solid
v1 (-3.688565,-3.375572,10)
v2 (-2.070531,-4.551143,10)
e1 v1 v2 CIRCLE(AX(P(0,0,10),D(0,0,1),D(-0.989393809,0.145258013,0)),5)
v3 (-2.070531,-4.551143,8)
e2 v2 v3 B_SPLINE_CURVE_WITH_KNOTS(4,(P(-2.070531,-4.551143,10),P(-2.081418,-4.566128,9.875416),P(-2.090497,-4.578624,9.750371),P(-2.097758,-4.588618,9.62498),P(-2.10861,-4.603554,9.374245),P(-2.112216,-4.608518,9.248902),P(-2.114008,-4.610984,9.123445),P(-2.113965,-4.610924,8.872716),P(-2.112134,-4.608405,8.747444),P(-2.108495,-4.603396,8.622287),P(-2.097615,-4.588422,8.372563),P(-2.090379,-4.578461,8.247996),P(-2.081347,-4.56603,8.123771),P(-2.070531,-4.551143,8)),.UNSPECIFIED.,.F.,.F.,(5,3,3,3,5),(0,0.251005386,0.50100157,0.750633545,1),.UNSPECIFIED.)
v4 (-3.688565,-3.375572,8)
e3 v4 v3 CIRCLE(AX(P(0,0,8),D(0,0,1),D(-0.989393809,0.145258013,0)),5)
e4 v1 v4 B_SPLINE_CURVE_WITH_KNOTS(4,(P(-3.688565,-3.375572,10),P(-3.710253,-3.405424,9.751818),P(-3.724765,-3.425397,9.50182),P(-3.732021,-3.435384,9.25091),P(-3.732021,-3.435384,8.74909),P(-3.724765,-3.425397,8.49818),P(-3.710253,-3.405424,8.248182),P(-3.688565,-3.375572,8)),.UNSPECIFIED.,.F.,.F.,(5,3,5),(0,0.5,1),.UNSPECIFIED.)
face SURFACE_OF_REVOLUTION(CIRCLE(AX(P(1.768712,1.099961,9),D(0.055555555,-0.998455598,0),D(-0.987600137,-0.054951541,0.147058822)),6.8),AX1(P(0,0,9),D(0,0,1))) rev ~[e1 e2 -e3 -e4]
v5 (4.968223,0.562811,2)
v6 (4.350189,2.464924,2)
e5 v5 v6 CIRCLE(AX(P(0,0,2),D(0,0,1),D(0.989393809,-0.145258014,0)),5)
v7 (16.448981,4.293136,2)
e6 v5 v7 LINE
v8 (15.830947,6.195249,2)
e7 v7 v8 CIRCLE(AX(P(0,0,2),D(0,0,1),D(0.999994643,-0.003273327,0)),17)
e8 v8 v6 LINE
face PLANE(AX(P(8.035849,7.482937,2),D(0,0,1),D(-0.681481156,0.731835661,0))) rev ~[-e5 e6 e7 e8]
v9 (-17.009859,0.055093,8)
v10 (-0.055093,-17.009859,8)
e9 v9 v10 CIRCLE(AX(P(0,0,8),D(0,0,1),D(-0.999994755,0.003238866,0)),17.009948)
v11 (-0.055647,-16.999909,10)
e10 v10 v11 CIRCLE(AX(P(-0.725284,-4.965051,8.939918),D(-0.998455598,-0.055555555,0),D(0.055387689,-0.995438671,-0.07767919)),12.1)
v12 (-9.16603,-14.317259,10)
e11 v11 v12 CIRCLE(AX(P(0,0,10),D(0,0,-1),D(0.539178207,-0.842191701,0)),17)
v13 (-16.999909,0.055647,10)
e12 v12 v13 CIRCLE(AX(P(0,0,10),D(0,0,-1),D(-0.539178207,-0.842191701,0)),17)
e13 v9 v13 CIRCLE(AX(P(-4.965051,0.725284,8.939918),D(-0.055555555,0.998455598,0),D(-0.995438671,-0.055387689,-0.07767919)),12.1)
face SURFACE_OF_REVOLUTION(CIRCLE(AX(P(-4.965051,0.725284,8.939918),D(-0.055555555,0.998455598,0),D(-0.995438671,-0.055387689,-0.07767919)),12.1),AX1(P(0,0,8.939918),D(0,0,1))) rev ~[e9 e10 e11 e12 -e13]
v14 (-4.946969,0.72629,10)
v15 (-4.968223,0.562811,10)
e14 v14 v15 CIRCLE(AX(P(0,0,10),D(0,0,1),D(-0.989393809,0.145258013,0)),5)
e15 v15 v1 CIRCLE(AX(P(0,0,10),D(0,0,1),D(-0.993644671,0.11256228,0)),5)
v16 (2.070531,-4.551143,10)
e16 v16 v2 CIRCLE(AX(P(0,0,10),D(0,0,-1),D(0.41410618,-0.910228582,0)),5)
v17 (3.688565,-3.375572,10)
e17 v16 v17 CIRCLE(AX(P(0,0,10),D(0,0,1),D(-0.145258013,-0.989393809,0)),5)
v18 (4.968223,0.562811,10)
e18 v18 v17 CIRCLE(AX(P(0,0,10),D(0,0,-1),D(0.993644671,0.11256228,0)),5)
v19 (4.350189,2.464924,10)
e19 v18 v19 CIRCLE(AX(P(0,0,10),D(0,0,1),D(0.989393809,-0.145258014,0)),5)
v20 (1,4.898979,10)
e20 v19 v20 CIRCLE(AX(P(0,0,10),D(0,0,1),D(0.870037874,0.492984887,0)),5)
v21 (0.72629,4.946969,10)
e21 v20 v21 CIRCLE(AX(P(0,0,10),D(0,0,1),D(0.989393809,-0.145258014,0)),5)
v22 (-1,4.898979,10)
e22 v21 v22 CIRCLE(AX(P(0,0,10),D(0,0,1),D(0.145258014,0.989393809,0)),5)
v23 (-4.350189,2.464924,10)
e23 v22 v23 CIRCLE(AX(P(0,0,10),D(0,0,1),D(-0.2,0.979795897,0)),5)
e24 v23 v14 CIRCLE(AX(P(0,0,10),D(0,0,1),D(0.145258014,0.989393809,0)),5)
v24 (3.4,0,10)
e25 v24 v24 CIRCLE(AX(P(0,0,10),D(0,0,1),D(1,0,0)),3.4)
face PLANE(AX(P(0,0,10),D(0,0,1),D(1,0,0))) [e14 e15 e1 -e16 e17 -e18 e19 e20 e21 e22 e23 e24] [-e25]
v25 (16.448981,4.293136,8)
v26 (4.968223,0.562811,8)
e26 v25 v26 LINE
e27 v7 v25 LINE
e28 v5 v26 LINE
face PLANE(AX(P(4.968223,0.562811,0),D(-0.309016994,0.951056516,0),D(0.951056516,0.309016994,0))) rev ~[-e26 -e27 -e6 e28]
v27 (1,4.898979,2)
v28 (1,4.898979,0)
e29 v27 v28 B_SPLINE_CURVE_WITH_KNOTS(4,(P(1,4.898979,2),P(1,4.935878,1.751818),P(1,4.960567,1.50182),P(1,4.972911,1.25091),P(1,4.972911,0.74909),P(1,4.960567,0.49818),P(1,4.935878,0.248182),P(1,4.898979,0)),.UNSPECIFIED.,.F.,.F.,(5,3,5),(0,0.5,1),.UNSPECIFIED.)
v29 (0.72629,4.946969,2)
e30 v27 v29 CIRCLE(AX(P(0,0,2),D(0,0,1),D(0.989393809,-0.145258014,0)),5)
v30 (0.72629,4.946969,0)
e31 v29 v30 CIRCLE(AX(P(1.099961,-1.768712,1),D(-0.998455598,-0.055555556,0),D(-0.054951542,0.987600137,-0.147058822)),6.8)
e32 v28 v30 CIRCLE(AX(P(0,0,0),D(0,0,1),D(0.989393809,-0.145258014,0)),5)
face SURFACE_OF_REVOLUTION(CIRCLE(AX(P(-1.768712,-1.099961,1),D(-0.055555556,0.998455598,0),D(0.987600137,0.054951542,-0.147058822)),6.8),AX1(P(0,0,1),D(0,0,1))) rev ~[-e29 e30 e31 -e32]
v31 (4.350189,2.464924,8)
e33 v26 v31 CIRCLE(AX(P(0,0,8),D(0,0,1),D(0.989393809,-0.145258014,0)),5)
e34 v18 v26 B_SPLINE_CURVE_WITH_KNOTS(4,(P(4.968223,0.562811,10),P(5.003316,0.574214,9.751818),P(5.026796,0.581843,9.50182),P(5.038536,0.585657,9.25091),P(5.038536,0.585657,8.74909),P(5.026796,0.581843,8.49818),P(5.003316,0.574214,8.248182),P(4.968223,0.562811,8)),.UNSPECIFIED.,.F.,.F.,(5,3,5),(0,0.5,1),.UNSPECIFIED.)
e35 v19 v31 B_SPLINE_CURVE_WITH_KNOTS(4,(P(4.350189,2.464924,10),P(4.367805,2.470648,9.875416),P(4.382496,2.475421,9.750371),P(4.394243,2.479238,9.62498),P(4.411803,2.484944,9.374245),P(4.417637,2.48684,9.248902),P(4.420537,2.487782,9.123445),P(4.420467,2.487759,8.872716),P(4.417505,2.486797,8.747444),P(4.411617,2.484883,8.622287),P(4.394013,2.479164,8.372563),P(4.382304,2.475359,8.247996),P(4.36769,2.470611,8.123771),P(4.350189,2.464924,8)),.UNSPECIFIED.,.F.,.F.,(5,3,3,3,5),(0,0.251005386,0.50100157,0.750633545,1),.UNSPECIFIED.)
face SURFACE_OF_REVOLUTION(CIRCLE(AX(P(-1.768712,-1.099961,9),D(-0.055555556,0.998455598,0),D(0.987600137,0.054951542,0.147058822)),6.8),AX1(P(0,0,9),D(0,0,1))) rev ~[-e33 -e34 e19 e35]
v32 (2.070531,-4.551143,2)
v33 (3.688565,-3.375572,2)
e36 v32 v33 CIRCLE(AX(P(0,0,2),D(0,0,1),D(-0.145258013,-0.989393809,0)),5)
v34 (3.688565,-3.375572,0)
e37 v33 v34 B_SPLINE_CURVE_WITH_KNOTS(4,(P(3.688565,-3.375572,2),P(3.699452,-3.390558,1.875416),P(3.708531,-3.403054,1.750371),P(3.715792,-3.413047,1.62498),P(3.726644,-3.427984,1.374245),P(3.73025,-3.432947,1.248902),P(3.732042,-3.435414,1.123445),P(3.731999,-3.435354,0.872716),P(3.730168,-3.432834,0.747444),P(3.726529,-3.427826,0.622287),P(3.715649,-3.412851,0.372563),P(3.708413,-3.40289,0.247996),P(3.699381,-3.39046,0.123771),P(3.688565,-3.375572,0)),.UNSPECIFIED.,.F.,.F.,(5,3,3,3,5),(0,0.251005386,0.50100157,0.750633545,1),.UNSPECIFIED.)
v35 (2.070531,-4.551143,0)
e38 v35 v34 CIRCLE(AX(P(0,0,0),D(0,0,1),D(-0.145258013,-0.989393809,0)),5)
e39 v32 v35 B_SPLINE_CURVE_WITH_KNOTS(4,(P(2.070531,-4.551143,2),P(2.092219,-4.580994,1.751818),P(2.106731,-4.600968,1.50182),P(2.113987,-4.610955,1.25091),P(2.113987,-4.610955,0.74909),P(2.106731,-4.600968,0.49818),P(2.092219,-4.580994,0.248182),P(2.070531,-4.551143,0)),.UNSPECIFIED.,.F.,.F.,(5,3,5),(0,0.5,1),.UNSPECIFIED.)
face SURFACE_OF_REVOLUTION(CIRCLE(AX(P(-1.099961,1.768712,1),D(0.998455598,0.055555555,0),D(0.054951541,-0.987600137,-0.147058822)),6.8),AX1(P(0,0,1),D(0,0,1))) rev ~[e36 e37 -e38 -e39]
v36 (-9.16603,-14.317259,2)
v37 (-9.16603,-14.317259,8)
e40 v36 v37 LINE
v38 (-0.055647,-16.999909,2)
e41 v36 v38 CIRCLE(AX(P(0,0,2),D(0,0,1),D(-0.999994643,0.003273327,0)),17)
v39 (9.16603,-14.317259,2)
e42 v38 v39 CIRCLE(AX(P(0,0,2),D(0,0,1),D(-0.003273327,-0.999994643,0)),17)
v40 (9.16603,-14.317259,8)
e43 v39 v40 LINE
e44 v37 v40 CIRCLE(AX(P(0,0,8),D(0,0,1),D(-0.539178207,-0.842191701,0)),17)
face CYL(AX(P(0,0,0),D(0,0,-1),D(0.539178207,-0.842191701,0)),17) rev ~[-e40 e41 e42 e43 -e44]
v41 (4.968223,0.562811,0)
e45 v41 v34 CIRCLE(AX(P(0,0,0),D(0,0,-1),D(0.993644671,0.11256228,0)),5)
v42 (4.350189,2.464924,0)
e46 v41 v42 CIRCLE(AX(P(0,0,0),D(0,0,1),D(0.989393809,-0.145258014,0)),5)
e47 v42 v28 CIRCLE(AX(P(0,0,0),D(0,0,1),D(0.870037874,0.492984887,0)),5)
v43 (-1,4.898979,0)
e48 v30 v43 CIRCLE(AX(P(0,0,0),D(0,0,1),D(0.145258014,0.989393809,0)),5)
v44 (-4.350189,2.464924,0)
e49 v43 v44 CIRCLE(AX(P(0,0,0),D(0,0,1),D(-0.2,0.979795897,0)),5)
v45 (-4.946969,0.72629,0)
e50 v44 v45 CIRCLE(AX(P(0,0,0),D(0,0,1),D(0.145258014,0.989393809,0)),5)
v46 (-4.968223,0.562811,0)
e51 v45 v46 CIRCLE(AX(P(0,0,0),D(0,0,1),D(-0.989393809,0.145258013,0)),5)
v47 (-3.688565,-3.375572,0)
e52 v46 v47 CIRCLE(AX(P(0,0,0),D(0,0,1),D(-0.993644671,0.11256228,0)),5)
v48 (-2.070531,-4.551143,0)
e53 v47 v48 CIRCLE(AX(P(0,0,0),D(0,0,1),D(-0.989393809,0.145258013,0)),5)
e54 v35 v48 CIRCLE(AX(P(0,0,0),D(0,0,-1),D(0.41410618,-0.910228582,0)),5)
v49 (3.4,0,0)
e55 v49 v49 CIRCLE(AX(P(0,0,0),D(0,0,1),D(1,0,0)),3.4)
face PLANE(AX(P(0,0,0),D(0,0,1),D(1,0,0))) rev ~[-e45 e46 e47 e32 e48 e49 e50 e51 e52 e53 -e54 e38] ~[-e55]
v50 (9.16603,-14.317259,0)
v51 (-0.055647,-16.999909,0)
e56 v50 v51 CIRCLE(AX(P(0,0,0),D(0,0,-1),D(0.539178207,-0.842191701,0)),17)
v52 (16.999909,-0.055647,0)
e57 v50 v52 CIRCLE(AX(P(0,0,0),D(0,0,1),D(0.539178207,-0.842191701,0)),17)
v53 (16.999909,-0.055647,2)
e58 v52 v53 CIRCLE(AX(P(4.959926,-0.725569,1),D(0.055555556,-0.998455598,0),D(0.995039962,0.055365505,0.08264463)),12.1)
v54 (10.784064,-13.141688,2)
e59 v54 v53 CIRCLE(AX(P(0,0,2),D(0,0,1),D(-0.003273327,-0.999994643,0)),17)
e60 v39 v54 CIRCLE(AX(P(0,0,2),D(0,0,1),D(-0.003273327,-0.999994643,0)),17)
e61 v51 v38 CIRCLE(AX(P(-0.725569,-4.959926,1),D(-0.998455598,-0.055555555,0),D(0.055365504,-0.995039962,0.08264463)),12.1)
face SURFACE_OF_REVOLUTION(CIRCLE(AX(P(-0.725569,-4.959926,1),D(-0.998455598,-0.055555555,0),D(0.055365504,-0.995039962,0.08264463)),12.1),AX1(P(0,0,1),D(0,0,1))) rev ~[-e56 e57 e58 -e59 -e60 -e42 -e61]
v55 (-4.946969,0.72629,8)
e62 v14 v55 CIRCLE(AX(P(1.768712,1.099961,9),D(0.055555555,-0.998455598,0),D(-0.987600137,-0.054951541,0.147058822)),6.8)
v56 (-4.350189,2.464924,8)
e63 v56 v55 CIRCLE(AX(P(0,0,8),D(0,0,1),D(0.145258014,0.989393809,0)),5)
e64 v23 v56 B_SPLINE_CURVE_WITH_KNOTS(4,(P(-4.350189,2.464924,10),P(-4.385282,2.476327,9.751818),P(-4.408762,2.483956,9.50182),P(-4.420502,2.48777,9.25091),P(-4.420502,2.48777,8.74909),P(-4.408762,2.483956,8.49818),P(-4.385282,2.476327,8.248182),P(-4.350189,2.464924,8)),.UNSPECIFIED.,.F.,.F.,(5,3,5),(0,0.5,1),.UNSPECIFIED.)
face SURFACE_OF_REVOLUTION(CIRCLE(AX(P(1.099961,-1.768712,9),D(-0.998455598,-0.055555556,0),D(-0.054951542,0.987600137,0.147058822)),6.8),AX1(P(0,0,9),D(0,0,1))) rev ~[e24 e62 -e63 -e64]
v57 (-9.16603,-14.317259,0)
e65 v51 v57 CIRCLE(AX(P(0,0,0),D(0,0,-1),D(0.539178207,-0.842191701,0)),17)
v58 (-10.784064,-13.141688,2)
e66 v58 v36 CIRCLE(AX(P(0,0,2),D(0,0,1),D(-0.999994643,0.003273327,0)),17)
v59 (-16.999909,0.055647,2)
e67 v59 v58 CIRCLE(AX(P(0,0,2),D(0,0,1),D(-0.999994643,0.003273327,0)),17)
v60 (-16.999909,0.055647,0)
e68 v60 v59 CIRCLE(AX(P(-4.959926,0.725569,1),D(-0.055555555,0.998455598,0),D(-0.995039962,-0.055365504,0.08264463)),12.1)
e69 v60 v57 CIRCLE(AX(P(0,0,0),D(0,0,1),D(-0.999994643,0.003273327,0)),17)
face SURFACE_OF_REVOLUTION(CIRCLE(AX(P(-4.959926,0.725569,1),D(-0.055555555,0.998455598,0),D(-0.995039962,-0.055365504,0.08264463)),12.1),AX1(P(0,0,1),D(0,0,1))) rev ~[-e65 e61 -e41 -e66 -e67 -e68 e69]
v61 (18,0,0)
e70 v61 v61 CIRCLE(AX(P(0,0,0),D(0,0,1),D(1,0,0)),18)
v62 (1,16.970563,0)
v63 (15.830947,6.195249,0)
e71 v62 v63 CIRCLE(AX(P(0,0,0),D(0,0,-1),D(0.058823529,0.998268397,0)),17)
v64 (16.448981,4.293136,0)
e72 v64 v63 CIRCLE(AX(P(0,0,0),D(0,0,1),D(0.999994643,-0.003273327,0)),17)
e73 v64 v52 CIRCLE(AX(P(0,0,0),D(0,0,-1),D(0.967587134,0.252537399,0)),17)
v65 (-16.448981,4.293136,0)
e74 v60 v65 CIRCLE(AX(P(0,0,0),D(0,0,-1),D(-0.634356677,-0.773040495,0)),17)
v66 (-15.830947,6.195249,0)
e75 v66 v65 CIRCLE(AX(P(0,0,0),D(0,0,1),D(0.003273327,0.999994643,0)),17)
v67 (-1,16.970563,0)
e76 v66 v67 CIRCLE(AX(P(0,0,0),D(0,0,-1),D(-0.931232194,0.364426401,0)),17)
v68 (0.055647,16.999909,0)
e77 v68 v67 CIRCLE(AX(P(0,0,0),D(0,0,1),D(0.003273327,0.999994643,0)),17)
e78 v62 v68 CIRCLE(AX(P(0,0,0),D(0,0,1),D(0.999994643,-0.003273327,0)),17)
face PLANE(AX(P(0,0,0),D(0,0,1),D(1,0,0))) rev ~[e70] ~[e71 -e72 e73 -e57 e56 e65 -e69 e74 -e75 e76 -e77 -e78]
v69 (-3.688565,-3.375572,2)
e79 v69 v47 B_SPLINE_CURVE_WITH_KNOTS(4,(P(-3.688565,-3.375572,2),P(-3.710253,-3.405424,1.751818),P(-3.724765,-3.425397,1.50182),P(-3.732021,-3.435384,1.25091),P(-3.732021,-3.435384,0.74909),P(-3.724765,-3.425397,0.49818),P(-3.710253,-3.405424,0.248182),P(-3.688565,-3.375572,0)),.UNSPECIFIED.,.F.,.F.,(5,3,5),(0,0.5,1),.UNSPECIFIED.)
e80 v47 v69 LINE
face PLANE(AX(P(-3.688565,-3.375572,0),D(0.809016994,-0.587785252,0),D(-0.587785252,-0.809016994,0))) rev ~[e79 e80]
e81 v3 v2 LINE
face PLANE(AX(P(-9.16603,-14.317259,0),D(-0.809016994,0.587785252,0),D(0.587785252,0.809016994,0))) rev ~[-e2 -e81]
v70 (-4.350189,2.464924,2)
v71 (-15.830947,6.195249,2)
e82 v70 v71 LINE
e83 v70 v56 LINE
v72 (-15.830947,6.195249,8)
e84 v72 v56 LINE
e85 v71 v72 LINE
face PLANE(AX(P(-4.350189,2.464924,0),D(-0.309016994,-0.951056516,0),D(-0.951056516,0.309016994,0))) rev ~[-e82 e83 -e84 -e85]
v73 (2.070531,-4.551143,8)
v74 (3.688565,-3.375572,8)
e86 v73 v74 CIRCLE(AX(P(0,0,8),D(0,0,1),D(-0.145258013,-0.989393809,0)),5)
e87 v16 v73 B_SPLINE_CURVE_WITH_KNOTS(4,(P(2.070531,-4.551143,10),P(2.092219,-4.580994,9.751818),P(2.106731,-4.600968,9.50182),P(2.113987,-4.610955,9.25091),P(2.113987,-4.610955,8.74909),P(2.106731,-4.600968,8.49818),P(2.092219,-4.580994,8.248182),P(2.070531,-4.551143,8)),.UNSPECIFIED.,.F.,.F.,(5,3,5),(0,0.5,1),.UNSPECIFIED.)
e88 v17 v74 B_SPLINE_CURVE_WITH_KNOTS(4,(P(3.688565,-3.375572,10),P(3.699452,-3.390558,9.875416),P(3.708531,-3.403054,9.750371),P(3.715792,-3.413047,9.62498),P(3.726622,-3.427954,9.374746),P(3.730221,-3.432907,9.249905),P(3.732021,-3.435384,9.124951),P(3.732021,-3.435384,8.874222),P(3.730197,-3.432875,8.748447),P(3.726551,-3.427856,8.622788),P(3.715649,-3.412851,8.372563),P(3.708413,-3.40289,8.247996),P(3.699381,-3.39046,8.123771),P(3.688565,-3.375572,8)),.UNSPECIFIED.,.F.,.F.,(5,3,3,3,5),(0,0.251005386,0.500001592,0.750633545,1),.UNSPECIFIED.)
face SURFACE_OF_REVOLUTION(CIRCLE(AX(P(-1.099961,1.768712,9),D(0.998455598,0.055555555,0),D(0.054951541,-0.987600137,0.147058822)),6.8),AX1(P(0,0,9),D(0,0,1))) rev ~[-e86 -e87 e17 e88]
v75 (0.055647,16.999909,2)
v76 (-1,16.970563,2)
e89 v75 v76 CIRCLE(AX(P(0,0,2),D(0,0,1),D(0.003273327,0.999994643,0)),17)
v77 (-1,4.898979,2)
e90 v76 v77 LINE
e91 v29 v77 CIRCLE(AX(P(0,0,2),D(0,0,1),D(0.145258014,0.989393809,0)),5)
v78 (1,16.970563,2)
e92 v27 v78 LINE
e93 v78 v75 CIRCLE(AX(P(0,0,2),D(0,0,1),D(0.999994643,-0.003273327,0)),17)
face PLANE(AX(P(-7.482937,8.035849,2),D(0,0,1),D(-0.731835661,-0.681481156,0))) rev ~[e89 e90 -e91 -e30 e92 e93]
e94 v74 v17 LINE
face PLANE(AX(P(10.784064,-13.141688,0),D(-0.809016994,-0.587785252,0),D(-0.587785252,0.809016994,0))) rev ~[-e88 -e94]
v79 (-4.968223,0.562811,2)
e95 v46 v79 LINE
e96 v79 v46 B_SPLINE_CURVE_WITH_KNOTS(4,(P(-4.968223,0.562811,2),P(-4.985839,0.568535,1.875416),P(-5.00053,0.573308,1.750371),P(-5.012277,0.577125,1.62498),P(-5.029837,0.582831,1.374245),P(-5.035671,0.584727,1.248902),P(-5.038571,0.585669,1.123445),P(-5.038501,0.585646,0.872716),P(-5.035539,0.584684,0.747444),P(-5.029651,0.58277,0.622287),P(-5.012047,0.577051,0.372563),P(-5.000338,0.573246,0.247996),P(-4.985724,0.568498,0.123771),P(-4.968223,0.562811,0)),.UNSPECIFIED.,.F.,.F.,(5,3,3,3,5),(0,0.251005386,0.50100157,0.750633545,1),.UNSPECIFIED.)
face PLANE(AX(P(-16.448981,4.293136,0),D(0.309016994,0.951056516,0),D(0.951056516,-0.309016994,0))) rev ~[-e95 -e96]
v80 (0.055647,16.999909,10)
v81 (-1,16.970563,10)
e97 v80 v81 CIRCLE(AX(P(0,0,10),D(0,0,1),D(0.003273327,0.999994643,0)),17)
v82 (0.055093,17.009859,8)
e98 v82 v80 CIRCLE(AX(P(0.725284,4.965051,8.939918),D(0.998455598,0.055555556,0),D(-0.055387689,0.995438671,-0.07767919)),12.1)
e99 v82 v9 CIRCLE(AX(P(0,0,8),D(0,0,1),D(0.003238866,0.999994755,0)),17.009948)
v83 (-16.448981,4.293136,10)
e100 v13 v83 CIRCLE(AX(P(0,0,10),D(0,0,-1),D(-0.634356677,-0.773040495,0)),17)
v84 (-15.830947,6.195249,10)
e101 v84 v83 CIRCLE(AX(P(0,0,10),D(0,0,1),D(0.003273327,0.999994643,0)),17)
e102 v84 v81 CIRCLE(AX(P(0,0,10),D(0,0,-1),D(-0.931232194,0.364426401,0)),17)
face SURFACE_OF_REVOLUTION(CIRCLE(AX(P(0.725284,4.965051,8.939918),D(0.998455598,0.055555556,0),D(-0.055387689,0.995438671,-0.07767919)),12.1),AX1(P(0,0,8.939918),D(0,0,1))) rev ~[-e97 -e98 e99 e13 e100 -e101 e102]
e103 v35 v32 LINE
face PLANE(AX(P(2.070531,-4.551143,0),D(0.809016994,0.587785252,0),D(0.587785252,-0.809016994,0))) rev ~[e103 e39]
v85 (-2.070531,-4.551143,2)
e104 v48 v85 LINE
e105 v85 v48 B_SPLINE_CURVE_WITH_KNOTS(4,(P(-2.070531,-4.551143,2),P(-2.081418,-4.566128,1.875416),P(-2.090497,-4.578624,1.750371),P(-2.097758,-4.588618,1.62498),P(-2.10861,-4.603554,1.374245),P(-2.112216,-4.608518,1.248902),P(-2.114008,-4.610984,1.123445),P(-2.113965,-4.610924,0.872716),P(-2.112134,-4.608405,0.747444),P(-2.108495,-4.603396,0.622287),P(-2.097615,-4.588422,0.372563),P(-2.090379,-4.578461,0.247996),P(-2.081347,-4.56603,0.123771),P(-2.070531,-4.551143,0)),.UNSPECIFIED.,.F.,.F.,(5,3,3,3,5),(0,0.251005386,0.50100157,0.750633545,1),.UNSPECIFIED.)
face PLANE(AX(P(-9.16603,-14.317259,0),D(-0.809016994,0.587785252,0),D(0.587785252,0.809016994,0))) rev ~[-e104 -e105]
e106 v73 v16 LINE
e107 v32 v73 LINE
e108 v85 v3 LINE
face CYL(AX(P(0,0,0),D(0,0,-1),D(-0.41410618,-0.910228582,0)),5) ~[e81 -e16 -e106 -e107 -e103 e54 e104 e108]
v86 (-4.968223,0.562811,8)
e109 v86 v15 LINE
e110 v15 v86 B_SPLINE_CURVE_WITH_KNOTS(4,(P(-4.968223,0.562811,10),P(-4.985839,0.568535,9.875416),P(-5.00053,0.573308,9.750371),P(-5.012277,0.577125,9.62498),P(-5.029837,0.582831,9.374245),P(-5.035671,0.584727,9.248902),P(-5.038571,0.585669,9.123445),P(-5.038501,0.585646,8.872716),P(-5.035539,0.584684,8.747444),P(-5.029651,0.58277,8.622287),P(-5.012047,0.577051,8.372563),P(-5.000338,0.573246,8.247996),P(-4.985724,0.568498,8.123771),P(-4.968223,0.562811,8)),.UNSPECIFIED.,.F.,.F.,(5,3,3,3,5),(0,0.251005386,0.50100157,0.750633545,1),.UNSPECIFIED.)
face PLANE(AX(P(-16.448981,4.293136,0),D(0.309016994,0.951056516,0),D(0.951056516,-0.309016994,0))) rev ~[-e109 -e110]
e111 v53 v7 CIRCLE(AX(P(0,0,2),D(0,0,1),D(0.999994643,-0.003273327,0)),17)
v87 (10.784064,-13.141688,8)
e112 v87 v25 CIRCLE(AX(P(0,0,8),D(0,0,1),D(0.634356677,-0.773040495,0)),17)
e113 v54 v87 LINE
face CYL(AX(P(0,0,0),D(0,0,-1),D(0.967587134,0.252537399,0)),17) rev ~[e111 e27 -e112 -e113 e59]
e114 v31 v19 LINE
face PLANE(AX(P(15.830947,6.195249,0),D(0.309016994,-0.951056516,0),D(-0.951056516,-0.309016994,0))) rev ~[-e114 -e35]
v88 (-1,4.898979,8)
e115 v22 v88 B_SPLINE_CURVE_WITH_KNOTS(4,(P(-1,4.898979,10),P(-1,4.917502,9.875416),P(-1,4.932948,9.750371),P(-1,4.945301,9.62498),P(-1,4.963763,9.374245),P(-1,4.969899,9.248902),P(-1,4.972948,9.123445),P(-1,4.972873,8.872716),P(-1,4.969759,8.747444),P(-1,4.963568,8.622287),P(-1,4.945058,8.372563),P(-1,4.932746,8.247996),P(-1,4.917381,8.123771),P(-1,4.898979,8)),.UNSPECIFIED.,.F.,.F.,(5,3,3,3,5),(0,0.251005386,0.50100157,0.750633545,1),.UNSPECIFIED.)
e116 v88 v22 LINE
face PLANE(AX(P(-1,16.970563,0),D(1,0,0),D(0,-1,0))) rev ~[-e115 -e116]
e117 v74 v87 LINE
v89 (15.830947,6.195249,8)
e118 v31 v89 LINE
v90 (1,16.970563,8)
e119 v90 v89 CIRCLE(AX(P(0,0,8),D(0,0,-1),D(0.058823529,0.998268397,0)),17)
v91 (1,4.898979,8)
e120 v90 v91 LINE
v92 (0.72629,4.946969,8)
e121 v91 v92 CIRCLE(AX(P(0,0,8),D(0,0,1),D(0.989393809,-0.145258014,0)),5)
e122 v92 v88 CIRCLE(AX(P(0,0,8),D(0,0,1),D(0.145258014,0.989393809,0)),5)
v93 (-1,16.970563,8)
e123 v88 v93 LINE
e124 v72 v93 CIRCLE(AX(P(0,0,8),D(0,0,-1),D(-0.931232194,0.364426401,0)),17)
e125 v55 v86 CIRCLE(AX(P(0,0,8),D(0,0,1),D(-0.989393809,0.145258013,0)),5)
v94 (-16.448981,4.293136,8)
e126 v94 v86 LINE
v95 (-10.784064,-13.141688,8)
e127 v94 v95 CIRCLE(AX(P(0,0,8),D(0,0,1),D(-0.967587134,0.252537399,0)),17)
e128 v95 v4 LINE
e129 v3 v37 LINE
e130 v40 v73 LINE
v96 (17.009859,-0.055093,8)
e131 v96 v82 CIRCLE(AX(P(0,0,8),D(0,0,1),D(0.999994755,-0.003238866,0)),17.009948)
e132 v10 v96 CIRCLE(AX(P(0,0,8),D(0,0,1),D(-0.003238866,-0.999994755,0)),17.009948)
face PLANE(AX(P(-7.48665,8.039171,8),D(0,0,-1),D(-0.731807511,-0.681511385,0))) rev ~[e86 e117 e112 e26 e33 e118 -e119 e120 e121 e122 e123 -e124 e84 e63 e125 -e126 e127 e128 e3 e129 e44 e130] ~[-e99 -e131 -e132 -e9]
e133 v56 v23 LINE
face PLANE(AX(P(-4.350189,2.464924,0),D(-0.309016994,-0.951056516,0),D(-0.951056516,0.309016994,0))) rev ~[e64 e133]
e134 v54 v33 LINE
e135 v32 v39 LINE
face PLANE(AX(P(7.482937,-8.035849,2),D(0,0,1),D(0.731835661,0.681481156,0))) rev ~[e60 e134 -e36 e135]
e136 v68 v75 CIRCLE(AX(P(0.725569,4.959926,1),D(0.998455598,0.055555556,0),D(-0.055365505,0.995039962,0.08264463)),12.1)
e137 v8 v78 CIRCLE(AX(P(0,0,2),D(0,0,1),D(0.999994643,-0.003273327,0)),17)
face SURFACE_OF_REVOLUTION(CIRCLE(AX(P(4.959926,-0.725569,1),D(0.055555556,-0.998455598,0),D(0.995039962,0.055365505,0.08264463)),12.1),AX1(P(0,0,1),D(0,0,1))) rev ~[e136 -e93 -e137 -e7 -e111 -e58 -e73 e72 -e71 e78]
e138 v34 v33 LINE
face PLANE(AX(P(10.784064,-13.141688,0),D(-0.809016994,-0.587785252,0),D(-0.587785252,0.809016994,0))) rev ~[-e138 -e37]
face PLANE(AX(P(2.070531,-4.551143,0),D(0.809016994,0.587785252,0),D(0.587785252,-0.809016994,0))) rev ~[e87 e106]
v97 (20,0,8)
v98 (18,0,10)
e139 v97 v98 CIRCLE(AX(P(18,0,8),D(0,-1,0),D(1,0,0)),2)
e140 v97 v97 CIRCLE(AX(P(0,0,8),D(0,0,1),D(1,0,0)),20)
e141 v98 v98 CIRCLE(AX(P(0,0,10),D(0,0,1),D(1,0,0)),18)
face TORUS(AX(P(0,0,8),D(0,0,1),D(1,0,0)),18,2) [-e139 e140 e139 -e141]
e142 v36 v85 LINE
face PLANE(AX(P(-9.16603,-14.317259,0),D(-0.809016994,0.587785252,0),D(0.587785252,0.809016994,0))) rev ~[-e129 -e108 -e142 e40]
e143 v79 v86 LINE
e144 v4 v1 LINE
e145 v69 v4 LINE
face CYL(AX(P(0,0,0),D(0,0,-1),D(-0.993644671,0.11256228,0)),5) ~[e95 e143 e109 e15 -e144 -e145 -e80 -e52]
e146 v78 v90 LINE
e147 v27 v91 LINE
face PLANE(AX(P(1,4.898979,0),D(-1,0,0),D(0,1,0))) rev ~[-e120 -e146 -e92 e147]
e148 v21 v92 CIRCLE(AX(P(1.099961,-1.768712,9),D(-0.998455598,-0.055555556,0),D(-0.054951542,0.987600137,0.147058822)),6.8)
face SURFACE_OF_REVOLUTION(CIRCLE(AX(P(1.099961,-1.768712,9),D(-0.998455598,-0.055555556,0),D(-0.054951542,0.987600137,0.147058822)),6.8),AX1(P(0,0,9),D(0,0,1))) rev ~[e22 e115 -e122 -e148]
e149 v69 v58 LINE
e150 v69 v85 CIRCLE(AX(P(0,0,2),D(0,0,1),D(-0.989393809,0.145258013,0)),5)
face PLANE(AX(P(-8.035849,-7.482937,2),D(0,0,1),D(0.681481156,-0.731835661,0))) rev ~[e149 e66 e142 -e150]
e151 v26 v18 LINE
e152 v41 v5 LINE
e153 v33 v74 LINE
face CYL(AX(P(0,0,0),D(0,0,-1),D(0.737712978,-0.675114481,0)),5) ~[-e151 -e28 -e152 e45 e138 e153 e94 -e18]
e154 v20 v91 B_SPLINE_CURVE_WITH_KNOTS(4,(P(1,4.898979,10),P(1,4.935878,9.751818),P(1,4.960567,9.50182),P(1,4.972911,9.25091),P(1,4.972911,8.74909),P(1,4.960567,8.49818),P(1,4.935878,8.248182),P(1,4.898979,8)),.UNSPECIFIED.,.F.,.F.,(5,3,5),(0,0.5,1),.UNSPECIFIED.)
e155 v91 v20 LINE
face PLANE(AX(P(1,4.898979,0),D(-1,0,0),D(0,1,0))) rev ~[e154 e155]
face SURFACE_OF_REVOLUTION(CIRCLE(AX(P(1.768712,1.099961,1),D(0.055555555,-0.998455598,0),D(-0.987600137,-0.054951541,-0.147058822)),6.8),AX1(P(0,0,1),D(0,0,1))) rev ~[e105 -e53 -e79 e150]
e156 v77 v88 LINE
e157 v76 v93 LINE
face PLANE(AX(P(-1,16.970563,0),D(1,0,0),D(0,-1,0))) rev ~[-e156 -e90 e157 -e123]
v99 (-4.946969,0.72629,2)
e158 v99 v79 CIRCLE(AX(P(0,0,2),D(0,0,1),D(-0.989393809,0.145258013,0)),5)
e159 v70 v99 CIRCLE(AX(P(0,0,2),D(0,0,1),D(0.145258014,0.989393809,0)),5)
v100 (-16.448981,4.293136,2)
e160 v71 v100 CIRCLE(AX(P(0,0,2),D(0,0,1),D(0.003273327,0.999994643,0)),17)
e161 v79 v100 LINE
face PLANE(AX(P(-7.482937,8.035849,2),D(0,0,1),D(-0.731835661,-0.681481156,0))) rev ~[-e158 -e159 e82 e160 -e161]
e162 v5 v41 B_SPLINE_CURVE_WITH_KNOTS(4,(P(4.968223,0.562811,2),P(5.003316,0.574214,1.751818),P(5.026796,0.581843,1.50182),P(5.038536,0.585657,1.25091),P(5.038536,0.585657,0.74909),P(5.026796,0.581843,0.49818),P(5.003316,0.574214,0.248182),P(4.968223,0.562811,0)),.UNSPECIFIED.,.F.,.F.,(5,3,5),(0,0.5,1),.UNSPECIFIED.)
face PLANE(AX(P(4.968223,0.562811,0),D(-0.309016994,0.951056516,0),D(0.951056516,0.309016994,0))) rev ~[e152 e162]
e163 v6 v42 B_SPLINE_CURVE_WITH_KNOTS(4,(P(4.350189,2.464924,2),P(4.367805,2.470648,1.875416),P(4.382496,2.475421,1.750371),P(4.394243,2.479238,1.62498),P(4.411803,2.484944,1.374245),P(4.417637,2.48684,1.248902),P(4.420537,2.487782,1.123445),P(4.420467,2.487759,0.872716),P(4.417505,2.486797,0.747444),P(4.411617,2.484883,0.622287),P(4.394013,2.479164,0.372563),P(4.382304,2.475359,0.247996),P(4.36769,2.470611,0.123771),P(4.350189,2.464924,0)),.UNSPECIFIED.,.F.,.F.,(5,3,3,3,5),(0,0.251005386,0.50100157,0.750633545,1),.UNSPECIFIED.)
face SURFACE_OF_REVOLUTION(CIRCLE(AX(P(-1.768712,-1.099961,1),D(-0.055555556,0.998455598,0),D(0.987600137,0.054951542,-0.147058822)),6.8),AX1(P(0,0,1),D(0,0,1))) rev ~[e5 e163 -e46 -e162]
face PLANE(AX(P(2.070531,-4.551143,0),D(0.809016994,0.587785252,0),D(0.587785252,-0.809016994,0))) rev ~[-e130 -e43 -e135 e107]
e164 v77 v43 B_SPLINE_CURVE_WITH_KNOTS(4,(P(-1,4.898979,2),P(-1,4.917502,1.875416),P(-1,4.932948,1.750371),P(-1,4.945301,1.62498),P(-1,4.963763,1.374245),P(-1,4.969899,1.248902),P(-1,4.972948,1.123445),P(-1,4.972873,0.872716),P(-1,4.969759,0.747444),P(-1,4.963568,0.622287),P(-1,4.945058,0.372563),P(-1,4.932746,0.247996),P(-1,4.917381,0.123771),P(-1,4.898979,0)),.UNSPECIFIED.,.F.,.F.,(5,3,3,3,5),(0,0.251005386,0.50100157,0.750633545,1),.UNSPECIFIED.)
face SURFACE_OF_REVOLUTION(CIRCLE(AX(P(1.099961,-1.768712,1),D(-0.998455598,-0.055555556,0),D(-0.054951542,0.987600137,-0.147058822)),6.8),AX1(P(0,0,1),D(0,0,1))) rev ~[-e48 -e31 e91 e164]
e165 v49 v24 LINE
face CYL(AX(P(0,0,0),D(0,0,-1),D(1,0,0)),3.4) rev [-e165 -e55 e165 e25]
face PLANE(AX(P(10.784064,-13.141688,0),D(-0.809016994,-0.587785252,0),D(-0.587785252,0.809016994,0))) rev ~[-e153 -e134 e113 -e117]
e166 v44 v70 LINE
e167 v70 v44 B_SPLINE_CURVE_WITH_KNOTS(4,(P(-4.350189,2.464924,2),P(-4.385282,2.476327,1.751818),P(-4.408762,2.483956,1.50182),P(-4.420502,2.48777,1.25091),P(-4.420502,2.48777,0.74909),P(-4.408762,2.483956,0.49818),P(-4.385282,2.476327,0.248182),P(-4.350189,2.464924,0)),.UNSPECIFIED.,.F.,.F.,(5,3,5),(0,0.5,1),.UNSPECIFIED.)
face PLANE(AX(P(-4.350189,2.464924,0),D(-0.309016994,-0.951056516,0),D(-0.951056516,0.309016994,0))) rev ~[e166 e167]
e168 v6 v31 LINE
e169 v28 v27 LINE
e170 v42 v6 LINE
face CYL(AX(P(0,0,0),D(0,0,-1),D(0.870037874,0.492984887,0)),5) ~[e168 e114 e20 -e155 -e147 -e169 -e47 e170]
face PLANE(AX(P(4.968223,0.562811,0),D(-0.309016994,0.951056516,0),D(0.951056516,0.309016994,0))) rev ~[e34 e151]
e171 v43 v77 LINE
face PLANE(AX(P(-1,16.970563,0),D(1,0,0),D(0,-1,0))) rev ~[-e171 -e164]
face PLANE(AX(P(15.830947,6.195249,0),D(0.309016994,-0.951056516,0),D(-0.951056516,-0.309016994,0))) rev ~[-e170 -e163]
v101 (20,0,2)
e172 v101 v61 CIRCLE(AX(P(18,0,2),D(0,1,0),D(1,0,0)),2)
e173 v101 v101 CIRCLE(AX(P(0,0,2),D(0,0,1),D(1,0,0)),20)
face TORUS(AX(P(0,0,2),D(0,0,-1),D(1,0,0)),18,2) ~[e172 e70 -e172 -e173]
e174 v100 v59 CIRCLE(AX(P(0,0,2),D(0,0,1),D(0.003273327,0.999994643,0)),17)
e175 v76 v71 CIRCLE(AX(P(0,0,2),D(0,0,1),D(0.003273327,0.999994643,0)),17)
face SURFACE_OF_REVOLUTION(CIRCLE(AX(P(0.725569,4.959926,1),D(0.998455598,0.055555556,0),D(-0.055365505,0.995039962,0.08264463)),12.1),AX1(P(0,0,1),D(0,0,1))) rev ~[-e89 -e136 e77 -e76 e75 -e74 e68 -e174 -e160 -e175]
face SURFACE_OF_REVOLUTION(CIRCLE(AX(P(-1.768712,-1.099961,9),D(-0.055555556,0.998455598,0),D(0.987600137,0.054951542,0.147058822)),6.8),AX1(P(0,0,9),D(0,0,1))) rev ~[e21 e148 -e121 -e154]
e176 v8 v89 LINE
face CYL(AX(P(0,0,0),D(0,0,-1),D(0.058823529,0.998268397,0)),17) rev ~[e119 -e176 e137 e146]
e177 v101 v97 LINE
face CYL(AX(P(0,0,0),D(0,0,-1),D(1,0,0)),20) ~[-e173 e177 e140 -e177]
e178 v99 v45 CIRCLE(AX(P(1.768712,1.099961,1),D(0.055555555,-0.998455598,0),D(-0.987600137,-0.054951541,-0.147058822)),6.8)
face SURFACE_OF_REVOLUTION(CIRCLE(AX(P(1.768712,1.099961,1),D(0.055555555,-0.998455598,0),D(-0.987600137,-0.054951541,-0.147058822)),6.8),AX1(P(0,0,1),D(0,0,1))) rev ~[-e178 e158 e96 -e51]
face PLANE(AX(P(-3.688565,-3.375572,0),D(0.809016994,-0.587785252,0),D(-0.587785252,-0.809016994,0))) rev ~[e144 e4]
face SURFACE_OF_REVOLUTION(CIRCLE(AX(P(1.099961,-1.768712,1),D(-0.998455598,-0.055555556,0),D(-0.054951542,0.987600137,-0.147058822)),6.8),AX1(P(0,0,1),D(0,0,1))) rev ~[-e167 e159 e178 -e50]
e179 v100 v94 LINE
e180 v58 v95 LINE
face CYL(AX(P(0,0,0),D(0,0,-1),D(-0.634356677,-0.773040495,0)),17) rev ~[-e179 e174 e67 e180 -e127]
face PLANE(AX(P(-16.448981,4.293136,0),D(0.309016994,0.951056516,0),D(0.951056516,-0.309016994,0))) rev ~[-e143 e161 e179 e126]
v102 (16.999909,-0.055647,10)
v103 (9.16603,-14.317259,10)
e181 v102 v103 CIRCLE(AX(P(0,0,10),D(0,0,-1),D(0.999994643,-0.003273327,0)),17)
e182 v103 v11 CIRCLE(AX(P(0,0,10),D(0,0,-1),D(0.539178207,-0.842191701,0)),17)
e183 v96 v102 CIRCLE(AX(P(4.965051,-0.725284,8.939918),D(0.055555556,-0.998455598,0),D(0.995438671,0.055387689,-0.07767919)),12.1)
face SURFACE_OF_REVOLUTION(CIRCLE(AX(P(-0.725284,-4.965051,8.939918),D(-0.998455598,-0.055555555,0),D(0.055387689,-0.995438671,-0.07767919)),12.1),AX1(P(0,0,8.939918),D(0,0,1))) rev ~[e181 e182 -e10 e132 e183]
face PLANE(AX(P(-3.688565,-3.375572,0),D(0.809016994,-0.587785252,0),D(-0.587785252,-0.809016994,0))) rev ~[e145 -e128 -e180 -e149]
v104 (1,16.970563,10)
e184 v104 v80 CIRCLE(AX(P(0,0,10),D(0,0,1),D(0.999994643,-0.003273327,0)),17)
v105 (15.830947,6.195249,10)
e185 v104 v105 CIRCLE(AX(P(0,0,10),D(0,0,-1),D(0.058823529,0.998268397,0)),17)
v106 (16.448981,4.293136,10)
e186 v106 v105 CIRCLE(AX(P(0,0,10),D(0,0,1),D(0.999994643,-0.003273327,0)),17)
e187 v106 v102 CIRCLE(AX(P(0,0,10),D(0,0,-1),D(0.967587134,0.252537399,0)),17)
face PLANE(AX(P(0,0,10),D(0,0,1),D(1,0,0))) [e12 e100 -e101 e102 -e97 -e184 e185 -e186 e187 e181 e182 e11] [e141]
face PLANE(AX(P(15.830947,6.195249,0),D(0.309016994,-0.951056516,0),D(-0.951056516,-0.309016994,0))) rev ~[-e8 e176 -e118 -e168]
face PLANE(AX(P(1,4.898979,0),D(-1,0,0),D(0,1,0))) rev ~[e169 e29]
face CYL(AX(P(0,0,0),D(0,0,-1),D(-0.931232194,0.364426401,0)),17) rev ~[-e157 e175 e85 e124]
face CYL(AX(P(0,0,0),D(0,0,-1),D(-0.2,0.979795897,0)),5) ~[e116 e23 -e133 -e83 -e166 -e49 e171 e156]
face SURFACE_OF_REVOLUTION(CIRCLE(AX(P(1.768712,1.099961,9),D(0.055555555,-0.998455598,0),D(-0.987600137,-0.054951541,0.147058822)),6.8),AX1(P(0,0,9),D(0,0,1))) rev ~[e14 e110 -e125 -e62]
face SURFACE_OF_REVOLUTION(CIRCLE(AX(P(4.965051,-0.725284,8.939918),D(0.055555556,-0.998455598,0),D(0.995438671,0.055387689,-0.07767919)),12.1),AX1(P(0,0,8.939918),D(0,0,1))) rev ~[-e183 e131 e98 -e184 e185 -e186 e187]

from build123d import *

# Parameters (mm, degrees)
SKETCH1_R           = 20
SKETCH1_R_2         = 3.4
BOSS_EXTRUDE4_DEPTH = 10
FILLET1_R           = 2


with BuildPart() as part:
    # Sketch1 → Boss-Extrude4 (new body)
    with BuildSketch(Plane.XY):
        Circle(SKETCH1_R)
        with BuildLine():
            ThreePointArc((-4.968223357, 0.5628114), (-4.755282581, -1.545084972), (-3.688564887, -3.375572407))
            Line((-3.688564887, -3.375572407), (-10.784063501, -13.141688415))
            ThreePointArc((-10.784063501, -13.141688415), (-16.167960777, -5.253288904), (-16.448981282, 4.293135777))
            Line((-16.448981282, 4.293135777), (-4.968223357, 0.5628114))
        make_face(mode=Mode.SUBTRACT)
        with BuildLine():
            ThreePointArc((-1, 4.898979486), (-2.938926261, 4.045084972), (-4.350189369, 2.464924432))
            Line((-4.350189369, 2.464924432), (-15.830947293, 6.19524881))
            ThreePointArc((-15.830947293, 6.19524881), (-9.992349289, 13.753288904), (-1, 16.970562748))
            Line((-1, 16.970562748), (-1, 4.898979486))
        make_face(mode=Mode.SUBTRACT)
        with BuildLine():
            ThreePointArc((4.350189369, 2.464924432), (2.938926261, 4.045084972), (1, 4.898979486))
            Line((1, 4.898979486), (1, 16.970562748))
            ThreePointArc((1, 16.970562748), (9.992349289, 13.753288904), (15.830947293, 6.19524881))
            Line((15.830947293, 6.19524881), (4.350189369, 2.464924432))
        make_face(mode=Mode.SUBTRACT)
        with BuildLine():
            Line((4.968223357, 0.5628114), (16.448981282, 4.293135777))
            ThreePointArc((16.448981282, 4.293135777), (16.167960777, -5.253288904), (10.784063501, -13.141688415))
            Line((10.784063501, -13.141688415), (3.688564887, -3.375572407))
            ThreePointArc((3.688564887, -3.375572407), (4.755282581, -1.545084972), (4.968223357, 0.5628114))
        make_face(mode=Mode.SUBTRACT)
        with BuildLine():
            ThreePointArc((-2.070530899, -4.551142911), (0, -5), (2.070530899, -4.551142911))
            Line((2.070530899, -4.551142911), (9.166029512, -14.31725892))
            ThreePointArc((9.166029512, -14.31725892), (0, -17), (-9.166029512, -14.31725892))
            Line((-9.166029512, -14.31725892), (-2.070530899, -4.551142911))
        make_face(mode=Mode.SUBTRACT)
        Circle(SKETCH1_R_2, mode=Mode.SUBTRACT)
    extrude(amount=BOSS_EXTRUDE4_DEPTH)

    # Fillet1
    fillet1_edges = [part.edges().sort_by_distance(p)[0] for p in [
        (-20, 0, 0),
        (-20, 0, 10),
    ]]
    fillet(fillet1_edges, radius=FILLET1_R)

    # Cut-Sweep1: sweep along a curve in space
    with BuildLine() as cut_sweep1_path:
        ThreePointArc((18, 0, 0), (12.727922061, 12.727922061, 0), (0, 18, 0))
        ThreePointArc((0, 18, 0), (-12.727922061, 12.727922061, 0), (-18, 0, 0))
        ThreePointArc((-18, 0, 0), (-12.727922061, -12.727922061, 0), (0, -18, 0))
        ThreePointArc((0, -18, 0), (12.727922061, -12.727922061, 0), (18, 0, 0))
    # Sketch3 → Cut-Sweep1 (sweep, cut)
    with BuildSketch(Plane(origin=(1, 0, 0), x_dir=(0, 0, -1), z_dir=(1, 0, 0))):
        with BuildLine():
            Line((-10, 16.970562748), (-10, 4.898979486))
            ThreePointArc((-10, 4.898979486), (-9, 4.972910797), (-8, 4.898979486))
            Line((-8, 4.898979486), (-8, 16.980527838))
            ThreePointArc((-8, 16.980527838), (-9.000206246, 17.016938924), (-10, 16.970562748))
        make_face()
        with BuildLine():
            Line((0, 16.970562748), (0, 4.898979486))
            ThreePointArc((0, 4.898979486), (-1, 4.972910797), (-2, 4.898979486))
            Line((-2, 4.898979486), (-2, 16.970562748))
            ThreePointArc((-2, 16.970562748), (-1, 17.011955864), (0, 16.970562748))
        make_face()
    sweep(path=cut_sweep1_path.line, mode=Mode.SUBTRACT)


solid = part.part
